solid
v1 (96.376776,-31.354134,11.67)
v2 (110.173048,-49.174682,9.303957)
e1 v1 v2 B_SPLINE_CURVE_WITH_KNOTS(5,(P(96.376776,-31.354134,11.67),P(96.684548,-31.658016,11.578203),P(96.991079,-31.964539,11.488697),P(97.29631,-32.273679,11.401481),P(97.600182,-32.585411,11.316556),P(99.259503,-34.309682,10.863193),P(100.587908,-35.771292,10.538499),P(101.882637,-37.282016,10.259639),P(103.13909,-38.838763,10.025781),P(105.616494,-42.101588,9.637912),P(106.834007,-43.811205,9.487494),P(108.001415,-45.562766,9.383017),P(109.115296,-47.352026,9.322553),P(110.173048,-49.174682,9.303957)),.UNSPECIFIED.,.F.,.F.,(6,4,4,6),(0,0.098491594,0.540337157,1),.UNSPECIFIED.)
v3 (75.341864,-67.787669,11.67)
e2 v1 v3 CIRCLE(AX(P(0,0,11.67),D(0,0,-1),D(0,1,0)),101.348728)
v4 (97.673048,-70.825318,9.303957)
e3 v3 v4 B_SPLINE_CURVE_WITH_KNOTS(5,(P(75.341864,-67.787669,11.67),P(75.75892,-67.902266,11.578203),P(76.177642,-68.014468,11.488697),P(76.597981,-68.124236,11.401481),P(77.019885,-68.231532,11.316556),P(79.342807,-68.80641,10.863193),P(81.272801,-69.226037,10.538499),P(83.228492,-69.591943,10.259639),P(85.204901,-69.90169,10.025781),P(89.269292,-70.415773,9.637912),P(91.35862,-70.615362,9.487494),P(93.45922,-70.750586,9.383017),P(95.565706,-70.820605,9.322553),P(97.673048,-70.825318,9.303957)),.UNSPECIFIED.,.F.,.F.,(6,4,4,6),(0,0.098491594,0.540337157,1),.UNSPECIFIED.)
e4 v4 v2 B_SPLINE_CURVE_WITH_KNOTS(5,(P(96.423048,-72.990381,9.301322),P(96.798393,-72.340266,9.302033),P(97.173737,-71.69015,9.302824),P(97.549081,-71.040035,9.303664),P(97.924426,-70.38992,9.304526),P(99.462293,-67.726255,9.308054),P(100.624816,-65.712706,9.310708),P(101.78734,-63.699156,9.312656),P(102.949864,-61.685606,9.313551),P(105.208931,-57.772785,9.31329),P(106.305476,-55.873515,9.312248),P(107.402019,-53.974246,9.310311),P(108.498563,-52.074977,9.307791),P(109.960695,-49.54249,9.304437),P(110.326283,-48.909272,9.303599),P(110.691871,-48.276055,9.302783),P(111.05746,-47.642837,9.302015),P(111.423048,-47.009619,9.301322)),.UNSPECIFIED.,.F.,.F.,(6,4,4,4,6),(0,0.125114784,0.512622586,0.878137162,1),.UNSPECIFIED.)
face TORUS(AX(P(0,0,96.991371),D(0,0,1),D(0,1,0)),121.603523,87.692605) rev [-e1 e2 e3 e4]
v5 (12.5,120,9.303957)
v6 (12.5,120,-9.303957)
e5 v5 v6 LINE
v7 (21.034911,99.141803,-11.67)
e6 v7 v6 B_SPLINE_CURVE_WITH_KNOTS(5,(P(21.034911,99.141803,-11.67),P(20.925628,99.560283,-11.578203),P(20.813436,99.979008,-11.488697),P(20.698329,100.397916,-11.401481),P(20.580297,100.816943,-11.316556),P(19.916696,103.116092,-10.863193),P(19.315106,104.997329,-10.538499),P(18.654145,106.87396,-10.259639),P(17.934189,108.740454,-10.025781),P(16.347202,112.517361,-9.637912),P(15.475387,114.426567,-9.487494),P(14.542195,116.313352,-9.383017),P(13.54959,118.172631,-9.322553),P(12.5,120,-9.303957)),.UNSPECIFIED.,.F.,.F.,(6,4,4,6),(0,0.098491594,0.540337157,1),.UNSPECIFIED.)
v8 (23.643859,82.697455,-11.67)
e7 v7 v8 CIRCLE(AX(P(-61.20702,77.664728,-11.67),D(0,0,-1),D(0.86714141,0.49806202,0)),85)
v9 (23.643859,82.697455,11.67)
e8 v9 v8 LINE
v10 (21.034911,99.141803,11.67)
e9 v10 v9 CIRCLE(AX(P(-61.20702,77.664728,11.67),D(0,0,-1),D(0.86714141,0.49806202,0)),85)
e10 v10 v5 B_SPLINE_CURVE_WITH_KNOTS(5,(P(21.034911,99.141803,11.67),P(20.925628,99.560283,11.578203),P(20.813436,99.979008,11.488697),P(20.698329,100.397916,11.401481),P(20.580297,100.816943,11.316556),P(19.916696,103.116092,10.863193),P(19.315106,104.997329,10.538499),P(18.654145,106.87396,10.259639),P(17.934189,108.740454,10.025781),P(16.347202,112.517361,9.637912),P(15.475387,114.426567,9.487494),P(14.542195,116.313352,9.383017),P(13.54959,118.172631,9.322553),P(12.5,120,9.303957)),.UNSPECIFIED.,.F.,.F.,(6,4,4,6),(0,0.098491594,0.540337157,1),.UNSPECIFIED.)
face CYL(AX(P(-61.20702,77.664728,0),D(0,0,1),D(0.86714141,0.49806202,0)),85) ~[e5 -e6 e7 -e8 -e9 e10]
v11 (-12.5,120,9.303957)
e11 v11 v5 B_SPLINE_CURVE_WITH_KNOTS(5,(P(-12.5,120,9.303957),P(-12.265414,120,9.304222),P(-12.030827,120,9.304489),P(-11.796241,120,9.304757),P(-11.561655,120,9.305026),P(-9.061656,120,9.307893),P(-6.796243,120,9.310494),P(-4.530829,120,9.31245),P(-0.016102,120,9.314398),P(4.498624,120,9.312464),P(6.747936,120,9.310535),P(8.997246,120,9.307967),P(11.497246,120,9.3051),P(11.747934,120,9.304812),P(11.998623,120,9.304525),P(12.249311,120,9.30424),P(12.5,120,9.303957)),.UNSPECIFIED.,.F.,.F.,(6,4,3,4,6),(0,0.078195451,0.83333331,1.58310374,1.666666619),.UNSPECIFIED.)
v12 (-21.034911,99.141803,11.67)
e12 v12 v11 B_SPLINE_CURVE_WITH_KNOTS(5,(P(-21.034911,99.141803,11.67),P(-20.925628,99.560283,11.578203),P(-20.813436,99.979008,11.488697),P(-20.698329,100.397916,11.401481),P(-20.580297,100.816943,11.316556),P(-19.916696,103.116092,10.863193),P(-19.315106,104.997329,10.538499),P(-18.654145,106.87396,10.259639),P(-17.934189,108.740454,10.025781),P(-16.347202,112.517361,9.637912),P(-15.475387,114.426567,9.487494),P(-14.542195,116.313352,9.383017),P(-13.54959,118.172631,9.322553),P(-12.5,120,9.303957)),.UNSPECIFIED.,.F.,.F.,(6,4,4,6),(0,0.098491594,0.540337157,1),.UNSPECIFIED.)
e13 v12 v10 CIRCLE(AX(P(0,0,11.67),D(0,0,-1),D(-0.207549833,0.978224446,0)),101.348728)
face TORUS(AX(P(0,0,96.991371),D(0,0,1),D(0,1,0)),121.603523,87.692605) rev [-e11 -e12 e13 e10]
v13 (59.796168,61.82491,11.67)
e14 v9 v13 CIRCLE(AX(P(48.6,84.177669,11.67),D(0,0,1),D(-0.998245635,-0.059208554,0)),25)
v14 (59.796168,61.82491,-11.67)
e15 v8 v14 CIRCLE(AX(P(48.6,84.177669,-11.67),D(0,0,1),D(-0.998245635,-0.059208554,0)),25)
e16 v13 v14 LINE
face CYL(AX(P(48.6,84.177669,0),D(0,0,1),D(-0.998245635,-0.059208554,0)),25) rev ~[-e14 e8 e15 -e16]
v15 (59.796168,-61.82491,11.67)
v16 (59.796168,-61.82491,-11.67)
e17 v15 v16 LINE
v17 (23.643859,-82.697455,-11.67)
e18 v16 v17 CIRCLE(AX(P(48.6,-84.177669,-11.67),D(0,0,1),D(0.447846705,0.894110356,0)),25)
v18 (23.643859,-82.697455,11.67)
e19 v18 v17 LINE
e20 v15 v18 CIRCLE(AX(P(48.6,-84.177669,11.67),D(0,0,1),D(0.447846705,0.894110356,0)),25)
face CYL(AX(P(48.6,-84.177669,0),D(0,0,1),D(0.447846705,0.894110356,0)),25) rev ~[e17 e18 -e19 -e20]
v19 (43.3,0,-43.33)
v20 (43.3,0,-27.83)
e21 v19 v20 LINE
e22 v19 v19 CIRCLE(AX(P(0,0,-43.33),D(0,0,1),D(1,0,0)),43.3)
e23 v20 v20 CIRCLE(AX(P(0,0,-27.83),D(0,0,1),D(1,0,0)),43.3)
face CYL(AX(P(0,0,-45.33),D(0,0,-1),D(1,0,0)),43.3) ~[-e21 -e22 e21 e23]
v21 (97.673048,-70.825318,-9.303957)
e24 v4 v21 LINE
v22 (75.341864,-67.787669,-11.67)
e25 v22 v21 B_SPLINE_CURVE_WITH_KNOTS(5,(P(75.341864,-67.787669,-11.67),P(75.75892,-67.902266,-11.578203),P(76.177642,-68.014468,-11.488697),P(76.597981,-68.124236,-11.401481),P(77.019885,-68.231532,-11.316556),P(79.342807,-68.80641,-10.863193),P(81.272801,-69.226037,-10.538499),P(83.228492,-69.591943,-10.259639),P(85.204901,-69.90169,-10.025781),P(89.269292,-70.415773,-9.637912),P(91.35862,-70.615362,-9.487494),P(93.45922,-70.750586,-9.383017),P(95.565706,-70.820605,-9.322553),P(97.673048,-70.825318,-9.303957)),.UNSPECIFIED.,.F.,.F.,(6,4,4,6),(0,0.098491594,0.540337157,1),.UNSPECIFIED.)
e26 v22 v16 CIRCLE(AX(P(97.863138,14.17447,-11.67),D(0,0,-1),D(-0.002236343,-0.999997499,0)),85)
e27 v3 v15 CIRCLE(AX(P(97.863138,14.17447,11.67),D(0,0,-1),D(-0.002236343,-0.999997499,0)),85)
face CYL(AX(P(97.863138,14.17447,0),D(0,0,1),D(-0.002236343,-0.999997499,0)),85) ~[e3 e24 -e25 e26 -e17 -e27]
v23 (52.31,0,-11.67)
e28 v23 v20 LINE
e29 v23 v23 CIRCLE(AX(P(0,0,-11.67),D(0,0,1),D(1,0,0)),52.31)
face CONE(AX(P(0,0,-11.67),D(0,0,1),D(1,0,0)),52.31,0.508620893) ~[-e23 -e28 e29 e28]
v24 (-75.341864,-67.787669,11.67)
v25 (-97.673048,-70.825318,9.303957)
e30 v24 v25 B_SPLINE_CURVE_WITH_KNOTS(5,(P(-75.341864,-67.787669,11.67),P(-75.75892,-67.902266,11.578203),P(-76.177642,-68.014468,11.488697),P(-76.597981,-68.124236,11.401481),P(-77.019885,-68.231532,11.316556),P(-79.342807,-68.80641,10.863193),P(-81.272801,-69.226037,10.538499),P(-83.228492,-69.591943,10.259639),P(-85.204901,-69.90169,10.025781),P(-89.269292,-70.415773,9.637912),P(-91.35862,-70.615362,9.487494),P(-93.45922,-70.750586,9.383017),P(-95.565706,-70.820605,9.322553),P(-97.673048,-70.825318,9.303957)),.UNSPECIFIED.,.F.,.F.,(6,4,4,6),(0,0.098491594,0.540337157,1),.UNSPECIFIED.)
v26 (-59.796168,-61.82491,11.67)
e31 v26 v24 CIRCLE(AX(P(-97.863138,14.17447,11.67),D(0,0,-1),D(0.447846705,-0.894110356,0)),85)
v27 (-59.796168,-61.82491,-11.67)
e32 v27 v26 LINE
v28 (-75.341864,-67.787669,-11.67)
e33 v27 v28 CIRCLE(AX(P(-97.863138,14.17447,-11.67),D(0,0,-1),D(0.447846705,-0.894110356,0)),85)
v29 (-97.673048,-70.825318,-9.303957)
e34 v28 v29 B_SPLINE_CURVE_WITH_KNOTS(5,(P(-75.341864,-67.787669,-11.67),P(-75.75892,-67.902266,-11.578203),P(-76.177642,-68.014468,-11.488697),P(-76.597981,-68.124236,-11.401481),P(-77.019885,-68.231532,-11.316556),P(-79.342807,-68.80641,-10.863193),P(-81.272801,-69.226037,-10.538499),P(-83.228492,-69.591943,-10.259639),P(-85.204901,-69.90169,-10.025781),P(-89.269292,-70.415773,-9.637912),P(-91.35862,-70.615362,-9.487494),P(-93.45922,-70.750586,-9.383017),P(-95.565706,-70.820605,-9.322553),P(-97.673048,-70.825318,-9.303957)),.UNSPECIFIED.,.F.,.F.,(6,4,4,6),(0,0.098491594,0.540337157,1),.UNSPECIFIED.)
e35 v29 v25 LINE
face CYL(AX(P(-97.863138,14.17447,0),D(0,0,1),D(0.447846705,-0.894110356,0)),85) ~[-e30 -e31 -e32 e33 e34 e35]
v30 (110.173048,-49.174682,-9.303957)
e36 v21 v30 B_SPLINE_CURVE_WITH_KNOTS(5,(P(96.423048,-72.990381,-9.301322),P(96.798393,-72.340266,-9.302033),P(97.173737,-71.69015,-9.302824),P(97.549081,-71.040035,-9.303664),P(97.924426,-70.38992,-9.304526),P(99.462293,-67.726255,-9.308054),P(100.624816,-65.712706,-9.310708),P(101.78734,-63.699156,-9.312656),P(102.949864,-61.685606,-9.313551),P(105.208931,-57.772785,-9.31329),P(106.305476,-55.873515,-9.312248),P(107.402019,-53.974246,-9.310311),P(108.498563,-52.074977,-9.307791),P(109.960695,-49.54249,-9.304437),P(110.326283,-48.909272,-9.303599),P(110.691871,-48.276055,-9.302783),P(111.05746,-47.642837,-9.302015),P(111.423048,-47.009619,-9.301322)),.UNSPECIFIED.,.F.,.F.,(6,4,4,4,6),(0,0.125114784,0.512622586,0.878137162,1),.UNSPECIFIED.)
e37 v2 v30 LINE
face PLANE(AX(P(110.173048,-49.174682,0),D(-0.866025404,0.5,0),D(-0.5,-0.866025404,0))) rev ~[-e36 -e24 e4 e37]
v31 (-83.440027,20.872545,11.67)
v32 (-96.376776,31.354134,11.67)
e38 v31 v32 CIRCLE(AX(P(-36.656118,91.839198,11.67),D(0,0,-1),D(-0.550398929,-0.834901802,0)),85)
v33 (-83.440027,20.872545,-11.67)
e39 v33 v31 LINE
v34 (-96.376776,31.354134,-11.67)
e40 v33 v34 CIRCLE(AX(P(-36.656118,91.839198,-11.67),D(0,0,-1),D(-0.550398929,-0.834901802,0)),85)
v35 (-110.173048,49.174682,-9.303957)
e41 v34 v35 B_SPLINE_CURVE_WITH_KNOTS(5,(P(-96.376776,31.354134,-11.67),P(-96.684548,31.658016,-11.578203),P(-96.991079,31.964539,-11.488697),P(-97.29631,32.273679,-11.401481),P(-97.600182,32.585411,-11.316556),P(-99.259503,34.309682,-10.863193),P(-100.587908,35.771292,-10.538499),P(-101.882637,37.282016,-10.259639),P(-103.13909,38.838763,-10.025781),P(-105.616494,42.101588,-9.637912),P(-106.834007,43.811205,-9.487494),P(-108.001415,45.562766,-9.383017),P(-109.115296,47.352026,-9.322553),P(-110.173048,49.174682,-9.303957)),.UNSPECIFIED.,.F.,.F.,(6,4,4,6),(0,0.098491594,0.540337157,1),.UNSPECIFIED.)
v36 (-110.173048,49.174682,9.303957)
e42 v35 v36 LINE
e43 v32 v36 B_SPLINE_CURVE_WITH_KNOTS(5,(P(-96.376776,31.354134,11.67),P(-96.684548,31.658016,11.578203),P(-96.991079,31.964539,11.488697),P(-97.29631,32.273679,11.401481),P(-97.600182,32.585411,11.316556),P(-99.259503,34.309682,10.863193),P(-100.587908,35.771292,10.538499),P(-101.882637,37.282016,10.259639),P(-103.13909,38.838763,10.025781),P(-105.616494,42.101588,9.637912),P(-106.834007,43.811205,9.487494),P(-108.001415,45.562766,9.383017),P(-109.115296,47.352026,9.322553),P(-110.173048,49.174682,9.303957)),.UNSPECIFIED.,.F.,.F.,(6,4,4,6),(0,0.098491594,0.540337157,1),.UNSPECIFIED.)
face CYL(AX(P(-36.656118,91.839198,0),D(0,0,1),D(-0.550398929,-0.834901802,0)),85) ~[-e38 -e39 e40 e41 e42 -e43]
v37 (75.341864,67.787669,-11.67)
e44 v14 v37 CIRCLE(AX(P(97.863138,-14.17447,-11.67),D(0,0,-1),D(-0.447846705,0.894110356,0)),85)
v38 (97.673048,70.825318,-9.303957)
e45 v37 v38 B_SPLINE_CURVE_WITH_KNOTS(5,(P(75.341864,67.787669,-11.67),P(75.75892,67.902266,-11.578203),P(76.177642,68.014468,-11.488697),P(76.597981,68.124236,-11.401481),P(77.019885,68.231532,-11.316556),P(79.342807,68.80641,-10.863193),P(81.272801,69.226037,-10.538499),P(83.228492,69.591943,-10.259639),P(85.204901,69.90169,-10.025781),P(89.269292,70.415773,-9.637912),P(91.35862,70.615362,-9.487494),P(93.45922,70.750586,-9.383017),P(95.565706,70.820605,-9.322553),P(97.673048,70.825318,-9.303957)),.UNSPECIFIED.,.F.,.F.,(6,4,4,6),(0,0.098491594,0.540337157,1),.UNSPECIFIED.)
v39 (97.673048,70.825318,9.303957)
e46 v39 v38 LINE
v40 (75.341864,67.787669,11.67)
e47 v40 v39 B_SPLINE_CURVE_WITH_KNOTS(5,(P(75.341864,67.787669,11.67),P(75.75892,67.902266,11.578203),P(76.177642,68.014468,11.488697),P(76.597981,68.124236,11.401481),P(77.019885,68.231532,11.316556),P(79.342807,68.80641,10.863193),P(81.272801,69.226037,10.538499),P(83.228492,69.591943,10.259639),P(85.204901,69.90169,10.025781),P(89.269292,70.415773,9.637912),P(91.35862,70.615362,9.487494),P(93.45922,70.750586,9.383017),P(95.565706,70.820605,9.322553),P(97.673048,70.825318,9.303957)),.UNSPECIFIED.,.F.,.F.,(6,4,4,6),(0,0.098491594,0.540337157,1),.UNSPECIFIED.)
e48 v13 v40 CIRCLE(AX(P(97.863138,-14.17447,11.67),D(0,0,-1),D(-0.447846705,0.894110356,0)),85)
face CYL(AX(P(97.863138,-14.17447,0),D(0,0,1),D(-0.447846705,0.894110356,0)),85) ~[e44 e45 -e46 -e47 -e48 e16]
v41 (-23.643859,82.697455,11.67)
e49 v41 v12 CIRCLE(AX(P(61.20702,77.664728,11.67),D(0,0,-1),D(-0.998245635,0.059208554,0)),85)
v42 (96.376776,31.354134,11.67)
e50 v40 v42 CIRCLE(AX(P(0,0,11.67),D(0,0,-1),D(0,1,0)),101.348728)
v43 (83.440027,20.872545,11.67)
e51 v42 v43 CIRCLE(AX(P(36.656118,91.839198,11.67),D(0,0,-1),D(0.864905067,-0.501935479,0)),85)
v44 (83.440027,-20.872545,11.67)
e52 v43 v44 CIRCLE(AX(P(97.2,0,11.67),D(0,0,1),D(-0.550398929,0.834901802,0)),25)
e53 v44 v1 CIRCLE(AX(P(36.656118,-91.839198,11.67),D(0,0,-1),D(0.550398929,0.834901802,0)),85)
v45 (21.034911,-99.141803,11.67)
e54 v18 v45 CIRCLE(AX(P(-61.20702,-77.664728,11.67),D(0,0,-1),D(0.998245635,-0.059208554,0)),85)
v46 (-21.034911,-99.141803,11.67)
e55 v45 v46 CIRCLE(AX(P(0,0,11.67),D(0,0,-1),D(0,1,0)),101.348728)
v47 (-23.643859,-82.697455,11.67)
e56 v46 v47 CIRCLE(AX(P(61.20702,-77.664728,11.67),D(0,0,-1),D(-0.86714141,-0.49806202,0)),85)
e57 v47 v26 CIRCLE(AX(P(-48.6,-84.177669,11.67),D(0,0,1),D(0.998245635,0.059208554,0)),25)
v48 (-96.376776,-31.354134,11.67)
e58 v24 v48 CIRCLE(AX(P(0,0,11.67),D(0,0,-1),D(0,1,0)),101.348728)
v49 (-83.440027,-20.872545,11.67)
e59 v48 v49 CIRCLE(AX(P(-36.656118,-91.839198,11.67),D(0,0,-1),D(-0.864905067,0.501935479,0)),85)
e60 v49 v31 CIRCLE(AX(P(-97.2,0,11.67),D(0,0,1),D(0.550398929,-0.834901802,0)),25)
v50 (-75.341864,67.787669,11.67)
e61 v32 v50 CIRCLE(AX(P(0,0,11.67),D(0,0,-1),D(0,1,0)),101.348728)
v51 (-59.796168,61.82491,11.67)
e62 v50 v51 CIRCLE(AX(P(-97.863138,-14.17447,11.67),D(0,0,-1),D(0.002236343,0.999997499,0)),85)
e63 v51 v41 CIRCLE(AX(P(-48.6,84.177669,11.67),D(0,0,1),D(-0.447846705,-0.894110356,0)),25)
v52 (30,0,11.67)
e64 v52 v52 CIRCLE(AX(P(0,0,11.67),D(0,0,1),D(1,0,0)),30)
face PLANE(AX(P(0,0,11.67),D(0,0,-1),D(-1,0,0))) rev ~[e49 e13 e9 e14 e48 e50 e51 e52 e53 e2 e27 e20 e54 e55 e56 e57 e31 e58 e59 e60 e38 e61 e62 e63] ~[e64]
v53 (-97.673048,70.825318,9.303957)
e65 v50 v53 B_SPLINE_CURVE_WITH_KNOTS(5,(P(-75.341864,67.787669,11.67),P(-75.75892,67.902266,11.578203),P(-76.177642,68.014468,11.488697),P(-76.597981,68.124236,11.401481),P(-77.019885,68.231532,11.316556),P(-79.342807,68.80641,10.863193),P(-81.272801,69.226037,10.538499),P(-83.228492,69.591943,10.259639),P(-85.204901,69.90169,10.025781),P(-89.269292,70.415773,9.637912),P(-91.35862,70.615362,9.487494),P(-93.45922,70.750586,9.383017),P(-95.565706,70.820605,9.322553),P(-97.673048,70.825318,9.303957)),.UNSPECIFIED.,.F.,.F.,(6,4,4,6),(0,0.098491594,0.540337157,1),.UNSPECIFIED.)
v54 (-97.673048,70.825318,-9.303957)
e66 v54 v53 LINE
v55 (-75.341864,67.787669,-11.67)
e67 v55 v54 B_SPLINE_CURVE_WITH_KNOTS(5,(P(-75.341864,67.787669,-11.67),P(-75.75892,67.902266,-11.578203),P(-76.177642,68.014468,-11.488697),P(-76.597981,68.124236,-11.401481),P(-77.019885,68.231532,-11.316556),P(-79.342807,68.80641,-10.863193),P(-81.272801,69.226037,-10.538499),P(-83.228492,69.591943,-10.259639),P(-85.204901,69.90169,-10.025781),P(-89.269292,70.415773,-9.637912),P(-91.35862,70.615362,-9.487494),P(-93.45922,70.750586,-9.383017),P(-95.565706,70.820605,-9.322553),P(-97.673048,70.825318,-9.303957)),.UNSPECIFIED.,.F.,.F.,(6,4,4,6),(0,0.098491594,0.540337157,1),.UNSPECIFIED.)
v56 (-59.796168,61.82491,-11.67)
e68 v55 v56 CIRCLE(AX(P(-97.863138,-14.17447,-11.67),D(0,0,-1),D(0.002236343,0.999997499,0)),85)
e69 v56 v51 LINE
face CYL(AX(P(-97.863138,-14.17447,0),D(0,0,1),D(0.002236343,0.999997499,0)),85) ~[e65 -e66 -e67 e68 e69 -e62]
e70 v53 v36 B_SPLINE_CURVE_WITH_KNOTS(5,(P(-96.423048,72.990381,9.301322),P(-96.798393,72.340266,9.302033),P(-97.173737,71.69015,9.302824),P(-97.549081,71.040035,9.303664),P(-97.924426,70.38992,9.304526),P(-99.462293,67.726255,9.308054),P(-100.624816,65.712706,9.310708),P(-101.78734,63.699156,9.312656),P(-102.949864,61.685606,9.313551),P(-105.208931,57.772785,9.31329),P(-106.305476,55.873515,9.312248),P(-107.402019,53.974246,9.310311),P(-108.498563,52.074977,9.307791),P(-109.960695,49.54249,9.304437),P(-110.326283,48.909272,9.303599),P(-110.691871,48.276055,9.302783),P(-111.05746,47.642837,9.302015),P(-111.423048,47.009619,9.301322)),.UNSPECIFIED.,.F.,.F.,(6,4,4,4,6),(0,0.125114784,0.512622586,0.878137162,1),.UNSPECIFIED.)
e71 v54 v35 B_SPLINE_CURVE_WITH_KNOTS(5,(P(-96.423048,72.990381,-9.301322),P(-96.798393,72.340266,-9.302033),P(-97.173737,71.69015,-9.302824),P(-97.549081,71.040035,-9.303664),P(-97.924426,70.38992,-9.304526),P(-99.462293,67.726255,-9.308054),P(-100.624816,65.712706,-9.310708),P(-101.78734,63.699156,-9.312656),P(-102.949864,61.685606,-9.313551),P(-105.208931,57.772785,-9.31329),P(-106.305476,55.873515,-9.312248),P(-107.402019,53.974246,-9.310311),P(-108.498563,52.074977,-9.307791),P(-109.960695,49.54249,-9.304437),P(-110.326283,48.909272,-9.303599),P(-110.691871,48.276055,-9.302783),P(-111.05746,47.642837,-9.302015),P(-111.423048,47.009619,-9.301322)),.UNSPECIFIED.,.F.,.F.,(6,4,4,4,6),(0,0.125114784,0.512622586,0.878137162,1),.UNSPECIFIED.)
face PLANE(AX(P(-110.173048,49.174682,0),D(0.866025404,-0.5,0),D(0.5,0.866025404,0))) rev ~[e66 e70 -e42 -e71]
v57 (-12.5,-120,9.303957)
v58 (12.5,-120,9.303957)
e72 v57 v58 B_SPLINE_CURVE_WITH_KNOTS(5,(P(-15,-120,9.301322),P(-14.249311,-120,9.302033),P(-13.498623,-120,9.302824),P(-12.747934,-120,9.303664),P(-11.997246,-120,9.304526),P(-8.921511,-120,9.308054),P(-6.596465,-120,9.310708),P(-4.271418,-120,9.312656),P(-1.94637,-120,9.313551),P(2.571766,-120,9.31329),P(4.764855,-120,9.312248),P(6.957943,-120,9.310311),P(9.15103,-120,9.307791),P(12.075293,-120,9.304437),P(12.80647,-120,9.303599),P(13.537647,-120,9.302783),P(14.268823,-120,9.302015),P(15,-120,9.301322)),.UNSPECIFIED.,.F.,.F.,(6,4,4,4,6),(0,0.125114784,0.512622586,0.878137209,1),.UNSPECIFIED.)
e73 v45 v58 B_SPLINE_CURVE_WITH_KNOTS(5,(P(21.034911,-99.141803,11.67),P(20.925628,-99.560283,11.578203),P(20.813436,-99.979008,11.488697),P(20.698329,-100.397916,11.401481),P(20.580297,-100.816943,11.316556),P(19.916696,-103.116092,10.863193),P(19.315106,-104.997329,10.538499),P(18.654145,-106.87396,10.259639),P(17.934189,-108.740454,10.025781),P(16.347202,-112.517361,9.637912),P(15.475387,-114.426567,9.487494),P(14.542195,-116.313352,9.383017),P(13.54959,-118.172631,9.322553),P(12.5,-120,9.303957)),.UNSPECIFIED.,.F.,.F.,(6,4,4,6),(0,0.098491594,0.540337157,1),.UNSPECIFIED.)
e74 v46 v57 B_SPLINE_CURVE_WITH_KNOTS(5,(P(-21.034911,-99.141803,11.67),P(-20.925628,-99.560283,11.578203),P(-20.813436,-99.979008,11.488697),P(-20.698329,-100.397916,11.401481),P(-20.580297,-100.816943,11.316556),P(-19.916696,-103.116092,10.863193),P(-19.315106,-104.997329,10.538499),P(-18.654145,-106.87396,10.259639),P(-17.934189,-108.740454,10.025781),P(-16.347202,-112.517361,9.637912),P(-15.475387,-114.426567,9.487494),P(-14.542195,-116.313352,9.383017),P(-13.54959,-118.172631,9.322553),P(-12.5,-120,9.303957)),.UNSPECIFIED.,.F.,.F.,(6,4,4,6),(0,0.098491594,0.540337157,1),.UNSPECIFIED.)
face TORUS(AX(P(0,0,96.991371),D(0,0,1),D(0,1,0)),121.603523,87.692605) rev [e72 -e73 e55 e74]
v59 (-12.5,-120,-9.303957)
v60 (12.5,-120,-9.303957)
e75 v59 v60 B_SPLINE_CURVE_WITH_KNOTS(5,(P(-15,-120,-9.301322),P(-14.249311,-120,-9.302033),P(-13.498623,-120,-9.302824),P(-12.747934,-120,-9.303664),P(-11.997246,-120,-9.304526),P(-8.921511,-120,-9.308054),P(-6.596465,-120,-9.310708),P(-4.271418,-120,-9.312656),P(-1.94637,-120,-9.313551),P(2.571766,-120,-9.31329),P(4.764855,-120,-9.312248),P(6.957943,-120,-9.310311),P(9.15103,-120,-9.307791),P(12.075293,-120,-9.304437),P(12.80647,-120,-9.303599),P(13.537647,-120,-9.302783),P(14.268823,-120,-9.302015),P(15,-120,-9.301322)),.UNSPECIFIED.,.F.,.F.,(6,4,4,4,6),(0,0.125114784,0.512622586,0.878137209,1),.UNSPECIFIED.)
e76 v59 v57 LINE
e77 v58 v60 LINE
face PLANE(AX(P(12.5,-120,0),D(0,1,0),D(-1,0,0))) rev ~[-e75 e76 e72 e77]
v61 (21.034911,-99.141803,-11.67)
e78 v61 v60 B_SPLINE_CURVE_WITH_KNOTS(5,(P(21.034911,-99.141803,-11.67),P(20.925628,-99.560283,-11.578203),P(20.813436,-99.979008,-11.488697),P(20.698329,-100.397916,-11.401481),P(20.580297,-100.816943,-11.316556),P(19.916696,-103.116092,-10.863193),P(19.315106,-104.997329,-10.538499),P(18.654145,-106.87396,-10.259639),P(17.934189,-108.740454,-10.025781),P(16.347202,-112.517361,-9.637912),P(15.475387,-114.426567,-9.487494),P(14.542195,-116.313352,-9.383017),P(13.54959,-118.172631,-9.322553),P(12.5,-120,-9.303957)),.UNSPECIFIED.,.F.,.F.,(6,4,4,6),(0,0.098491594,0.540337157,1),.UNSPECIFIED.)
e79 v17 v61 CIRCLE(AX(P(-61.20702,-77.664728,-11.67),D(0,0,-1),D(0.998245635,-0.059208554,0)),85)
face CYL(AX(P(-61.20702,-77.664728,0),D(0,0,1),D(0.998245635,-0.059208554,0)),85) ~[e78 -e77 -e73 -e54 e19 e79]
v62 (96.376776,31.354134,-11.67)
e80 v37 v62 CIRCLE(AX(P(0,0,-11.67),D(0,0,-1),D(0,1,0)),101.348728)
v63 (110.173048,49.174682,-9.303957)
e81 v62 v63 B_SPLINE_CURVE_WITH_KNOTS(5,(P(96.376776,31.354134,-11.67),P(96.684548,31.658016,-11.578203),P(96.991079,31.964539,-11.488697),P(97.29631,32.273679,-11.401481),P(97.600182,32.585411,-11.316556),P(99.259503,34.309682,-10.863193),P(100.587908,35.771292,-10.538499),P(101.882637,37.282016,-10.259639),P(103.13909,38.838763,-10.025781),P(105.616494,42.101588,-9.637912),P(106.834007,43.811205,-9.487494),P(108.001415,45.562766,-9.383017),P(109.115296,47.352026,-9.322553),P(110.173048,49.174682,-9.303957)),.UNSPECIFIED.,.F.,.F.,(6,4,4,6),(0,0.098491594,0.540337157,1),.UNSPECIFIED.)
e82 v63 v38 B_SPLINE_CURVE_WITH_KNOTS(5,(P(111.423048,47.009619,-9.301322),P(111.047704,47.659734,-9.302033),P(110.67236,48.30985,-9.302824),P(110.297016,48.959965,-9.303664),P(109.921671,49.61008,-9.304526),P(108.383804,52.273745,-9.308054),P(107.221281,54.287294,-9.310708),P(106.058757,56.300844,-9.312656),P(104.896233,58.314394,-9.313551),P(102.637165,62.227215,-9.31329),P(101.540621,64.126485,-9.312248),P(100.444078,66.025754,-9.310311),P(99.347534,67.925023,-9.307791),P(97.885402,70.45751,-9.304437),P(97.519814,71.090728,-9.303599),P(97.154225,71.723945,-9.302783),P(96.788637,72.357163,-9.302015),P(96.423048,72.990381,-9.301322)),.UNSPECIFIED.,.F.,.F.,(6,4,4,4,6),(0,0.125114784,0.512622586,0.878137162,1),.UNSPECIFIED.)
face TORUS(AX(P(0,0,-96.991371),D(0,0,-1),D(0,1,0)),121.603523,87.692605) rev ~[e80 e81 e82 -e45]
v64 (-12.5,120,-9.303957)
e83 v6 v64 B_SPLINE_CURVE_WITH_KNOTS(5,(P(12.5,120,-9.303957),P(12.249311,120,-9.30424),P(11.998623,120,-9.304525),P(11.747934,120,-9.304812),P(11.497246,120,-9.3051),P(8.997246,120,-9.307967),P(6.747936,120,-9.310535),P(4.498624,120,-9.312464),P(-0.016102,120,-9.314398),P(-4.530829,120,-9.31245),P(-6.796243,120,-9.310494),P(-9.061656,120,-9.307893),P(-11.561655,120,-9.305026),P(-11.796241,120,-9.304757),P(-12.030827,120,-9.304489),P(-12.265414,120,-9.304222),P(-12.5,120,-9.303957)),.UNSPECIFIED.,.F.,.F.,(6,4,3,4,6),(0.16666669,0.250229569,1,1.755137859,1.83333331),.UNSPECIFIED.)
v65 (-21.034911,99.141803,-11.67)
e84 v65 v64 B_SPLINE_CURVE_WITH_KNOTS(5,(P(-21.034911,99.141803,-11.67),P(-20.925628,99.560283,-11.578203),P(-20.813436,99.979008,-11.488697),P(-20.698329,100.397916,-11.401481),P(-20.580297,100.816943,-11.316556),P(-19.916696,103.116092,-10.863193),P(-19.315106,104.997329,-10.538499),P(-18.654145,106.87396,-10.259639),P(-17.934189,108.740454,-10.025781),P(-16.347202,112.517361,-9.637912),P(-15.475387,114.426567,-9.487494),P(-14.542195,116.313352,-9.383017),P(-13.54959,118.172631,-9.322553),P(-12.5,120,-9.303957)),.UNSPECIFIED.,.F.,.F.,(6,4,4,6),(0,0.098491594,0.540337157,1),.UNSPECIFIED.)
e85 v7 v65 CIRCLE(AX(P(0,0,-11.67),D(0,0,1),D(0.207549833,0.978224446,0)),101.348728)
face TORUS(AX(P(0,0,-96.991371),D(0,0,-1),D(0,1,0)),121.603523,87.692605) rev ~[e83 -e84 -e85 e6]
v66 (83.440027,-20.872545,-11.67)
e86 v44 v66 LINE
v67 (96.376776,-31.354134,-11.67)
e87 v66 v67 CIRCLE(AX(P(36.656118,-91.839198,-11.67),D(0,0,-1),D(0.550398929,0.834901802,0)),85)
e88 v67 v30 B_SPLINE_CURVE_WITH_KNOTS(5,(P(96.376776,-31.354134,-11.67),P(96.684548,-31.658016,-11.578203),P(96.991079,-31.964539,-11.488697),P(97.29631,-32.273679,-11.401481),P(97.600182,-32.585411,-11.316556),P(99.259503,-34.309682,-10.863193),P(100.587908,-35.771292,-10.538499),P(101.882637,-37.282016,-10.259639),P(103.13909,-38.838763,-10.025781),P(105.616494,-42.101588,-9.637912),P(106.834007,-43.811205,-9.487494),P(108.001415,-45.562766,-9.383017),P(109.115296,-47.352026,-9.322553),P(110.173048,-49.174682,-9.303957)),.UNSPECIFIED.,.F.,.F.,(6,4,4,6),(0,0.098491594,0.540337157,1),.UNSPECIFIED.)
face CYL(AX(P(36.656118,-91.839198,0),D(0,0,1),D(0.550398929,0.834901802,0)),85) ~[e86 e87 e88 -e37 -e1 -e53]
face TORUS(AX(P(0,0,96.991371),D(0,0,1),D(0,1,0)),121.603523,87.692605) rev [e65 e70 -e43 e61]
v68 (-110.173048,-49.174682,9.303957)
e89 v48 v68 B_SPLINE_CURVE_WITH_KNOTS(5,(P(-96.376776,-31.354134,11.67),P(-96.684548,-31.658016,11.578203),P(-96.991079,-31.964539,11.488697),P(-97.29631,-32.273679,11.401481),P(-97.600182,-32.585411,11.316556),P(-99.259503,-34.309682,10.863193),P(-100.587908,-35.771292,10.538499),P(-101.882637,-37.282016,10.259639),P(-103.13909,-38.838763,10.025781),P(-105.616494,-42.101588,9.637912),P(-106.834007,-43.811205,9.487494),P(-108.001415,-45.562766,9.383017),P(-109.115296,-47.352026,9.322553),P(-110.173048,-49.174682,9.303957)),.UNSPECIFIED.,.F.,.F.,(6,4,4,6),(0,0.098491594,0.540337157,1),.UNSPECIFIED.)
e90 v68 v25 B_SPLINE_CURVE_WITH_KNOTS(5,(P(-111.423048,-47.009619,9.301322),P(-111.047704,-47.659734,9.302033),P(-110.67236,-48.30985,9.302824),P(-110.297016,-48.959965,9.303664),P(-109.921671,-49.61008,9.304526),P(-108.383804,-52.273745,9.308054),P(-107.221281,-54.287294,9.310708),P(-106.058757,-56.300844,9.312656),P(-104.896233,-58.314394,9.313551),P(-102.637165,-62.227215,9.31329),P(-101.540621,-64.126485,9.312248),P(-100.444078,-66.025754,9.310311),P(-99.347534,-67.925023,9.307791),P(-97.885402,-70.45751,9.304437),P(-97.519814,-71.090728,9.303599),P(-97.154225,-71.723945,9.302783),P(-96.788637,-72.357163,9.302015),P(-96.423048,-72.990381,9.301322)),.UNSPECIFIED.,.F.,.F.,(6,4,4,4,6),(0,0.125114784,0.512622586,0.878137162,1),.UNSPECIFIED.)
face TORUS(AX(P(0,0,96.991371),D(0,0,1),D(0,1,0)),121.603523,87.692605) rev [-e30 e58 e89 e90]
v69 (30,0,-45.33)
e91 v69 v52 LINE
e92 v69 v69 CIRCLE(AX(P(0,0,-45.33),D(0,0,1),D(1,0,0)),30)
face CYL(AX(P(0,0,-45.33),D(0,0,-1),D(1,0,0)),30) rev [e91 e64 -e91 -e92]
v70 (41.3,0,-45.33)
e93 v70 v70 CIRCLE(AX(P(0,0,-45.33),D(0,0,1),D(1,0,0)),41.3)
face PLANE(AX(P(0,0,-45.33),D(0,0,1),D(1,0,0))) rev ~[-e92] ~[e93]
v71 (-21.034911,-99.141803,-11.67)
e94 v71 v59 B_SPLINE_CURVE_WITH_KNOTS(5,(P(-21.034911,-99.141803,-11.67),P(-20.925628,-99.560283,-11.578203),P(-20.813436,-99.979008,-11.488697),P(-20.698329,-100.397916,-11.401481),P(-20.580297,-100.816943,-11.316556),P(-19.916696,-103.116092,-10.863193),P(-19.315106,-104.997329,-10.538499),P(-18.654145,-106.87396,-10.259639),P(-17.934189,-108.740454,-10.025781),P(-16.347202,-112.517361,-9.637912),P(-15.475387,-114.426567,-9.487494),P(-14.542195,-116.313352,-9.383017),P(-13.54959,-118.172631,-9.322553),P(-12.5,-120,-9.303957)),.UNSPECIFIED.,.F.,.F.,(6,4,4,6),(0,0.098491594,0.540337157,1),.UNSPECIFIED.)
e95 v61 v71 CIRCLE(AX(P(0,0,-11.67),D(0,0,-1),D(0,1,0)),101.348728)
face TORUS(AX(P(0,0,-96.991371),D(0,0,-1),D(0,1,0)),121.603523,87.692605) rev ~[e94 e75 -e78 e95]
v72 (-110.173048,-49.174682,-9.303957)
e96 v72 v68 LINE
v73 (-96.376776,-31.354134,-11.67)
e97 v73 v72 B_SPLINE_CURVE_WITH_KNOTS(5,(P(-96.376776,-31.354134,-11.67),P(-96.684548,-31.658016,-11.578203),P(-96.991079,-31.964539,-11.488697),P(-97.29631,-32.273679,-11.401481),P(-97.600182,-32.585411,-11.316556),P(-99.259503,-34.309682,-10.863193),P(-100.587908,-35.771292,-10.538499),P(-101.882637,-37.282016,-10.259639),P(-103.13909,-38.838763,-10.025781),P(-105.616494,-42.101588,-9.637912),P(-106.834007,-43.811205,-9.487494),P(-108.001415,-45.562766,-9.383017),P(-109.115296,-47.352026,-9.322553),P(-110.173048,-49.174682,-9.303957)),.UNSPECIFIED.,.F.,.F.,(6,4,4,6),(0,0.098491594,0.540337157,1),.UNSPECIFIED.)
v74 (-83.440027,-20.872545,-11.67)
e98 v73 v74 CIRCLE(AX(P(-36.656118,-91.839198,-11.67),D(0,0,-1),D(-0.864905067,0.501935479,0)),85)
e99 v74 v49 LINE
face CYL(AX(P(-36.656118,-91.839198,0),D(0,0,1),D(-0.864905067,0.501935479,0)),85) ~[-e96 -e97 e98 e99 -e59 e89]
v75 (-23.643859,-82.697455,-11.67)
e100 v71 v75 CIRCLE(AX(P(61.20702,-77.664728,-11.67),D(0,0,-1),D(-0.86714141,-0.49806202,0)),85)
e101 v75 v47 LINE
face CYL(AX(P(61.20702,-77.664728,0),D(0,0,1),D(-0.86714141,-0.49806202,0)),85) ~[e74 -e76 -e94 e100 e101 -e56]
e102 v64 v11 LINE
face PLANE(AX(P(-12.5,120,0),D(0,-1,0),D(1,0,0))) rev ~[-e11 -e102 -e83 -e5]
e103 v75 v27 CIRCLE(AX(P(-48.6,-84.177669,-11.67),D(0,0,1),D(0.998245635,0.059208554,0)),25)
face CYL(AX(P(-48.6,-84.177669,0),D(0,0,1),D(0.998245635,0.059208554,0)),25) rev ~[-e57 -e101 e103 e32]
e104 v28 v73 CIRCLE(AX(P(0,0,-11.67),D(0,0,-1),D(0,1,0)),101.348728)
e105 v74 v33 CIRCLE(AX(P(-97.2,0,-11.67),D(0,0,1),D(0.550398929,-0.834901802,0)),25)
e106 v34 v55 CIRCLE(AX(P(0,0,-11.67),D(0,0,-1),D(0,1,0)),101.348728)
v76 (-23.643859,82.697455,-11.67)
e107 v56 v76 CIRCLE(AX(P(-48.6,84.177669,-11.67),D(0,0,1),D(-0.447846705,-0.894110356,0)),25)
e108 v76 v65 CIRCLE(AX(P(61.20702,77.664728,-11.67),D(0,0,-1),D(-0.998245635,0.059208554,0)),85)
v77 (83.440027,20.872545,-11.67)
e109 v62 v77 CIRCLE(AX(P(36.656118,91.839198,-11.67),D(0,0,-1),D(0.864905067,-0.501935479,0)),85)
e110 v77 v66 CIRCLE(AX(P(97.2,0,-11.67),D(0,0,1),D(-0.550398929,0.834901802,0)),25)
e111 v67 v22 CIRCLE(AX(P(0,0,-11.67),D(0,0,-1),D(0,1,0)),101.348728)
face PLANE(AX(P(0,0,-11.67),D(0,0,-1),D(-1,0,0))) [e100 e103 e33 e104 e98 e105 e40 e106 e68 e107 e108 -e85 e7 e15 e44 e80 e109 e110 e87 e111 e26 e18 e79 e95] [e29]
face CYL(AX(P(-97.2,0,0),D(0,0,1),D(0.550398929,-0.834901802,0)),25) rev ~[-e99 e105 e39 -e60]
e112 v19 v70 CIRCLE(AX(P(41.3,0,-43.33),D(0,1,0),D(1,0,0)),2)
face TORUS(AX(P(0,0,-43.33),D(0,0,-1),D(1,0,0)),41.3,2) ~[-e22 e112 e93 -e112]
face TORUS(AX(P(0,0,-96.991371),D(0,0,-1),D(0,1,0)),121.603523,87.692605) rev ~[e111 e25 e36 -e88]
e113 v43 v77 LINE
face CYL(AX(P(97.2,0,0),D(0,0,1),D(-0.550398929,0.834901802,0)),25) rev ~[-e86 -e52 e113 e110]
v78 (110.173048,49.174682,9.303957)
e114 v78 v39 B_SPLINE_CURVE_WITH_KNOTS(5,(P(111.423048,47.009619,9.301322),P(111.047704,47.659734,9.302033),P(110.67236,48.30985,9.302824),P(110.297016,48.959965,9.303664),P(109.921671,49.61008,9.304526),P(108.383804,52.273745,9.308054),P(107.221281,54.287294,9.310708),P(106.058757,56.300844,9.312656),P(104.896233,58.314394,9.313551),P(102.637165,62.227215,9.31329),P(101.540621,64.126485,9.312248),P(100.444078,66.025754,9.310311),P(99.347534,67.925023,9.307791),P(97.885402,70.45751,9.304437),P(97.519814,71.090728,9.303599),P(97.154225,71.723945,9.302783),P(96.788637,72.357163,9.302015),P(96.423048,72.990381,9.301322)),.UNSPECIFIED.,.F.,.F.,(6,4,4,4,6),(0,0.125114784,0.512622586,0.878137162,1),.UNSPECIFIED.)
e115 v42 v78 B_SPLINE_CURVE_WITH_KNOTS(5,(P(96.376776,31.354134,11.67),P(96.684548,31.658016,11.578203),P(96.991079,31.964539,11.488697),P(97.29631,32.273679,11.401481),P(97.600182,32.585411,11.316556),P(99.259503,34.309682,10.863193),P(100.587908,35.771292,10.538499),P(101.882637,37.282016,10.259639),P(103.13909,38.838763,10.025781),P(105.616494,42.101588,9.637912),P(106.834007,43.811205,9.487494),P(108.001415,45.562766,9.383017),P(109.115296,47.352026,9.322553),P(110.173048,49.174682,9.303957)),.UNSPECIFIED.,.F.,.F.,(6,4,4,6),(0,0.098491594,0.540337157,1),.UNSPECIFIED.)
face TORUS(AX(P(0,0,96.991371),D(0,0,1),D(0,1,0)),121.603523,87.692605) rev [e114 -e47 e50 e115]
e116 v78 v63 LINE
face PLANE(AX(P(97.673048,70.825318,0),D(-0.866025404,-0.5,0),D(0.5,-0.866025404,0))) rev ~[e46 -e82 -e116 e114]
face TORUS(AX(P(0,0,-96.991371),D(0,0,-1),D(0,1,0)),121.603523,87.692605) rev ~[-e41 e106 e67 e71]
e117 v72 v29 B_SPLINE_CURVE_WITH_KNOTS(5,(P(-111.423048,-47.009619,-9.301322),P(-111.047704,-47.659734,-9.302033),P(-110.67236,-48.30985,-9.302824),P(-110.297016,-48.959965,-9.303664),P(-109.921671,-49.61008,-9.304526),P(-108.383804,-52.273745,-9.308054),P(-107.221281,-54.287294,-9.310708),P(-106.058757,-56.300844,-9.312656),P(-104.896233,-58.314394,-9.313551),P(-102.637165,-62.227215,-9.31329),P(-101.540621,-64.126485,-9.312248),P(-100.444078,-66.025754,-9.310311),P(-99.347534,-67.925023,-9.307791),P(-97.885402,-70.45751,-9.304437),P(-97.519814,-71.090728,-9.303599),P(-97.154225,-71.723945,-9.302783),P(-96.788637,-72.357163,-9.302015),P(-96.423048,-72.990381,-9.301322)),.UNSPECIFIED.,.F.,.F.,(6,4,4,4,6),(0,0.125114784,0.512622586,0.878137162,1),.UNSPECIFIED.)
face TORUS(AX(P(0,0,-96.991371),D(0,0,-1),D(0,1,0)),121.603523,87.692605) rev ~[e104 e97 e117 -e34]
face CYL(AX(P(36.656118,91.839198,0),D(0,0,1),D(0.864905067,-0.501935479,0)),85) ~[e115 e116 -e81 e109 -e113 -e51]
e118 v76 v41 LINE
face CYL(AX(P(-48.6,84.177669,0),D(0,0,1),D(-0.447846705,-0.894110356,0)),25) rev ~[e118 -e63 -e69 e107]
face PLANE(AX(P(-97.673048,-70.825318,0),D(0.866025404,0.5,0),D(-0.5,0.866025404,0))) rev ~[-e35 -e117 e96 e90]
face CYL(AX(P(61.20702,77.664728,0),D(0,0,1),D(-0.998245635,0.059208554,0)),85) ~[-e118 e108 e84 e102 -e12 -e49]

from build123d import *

# Parameters (mm, degrees)
SKETCH2_R           = 30
BOSS_EXTRUDE1_DEPTH = 11.67
BOSS_EXTRUDE2_START = -57
SKETCH4_R           = 43.3
SKETCH4_R_2         = 30
BOSS_EXTRUDE2_DEPTH = 57
FILLET1_R           = 2


with BuildPart() as part:
    # Sketch2 → Boss-Extrude1 (new, symmetric)
    with BuildSketch(Plane.XY):
        with BuildLine():
            Line((-12.5, 120), (12.5, 120))
            ThreePointArc((12.5, 120), (20.236345621, 101.995330975), (23.643859133, 82.697455395))
            ThreePointArc((23.643859133, 82.697455395), (36.1, 62.527034153), (59.796167634, 61.824910351))
            ThreePointArc((59.796167634, 61.824910351), (78.212374881, 68.522854875), (97.673048454, 70.825317547))
            Line((97.673048454, 70.825317547), (110.173048454, 49.174682453))
            ThreePointArc((110.173048454, 49.174682453), (98.448720503, 33.4724761), (83.440026767, 20.872545044))
            ThreePointArc((83.440026767, 20.872545044), (72.2, 0), (83.440026767, -20.872545044))
            ThreePointArc((83.440026767, -20.872545044), (98.448720503, -33.4724761), (110.173048454, -49.174682453))
            Line((110.173048454, -49.174682453), (97.673048454, -70.825317547))
            ThreePointArc((97.673048454, -70.825317547), (78.212374881, -68.522854875), (59.796167634, -61.824910351))
            ThreePointArc((59.796167634, -61.824910351), (36.1, -62.527034153), (23.643859133, -82.697455395))
            ThreePointArc((23.643859133, -82.697455395), (20.236345621, -101.995330975), (12.5, -120))
            Line((12.5, -120), (-12.5, -120))
            ThreePointArc((-12.5, -120), (-20.236345621, -101.995330975), (-23.643859133, -82.697455395))
            ThreePointArc((-23.643859133, -82.697455395), (-36.1, -62.527034153), (-59.796167634, -61.824910351))
            ThreePointArc((-59.796167634, -61.824910351), (-78.212374881, -68.522854875), (-97.673048454, -70.825317547))
            Line((-97.673048454, -70.825317547), (-110.173048454, -49.174682453))
            ThreePointArc((-110.173048454, -49.174682453), (-98.448720503, -33.4724761), (-83.440026767, -20.872545044))
            ThreePointArc((-83.440026767, -20.872545044), (-72.2, 0), (-83.440026767, 20.872545044))
            ThreePointArc((-83.440026767, 20.872545044), (-98.448720503, 33.4724761), (-110.173048454, 49.174682453))
            Line((-110.173048454, 49.174682453), (-97.673048454, 70.825317547))
            ThreePointArc((-97.673048454, 70.825317547), (-78.212374881, 68.522854875), (-59.796167634, 61.824910351))
            ThreePointArc((-59.796167634, 61.824910351), (-36.1, 62.527034153), (-23.643859133, 82.697455395))
            ThreePointArc((-23.643859133, 82.697455395), (-20.236345621, 101.995330975), (-12.5, 120))
        make_face()
        Circle(SKETCH2_R, mode=Mode.SUBTRACT)
    extrude(amount=BOSS_EXTRUDE1_DEPTH, both=True)

    # Sketch3 → Cut-Revolve3 (revolve, cut)
    with BuildSketch(Plane(origin=(0, 0, 0), x_dir=(0, 0, -1), z_dir=(1, 0, 0))):
        with BuildLine():
            Line((-9.298765392, 121.603522868), (-9.298765392, 129.425144156))
            Line((-9.298765392, 129.425144156), (-28.94821126, 129.425144156))
            Line((-28.94821126, 129.425144156), (-28.94821126, 101.348727697))
            Line((-28.94821126, 101.348727697), (-11.67, 101.348727697))
            ThreePointArc((-11.67, 101.348727697), (-9.89359142, 111.406961181), (-9.298765392, 121.603522868))
        make_face()
    cut_revolve3 = revolve(axis=Axis((0, 0, 0), (0, 0, -1)), mode=Mode.SUBTRACT)

    # Mirror1: Cut-Revolve3 across plane
    add(cut_revolve3.mirror(Plane.XY), mode=Mode.SUBTRACT)

    # Sketch4 → Boss-Extrude2 (add)
    with BuildSketch(Plane.XY.offset(11.67).offset(BOSS_EXTRUDE2_START)):
        Circle(SKETCH4_R)
        Circle(SKETCH4_R_2, mode=Mode.SUBTRACT)
    extrude(amount=BOSS_EXTRUDE2_DEPTH)

    # Sketch5 → Revolve1 (revolve)
    with BuildSketch(Plane(origin=(0, 0, 0), x_dir=(0, 0, -1), z_dir=(1, 0, 0)), mode=Mode.PRIVATE) as revolve1_sk:
        Polygon((27.83, 43.3), (11.67, 43.3), (11.67, 52.31), align=None)
    revolve(revolve1_sk.sketch.rotate(Axis((0, 0, 0), (0, 0, 1)), 270), axis=Axis((0, 0, 0), (0, 0, 1)))

    # Fillet1
    fillet1_edges = [part.edges().sort_by_distance(p)[0] for p in [
        (-43.3, 0, -45.33),
    ]]
    fillet(fillet1_edges, radius=FILLET1_R)


solid = part.part
